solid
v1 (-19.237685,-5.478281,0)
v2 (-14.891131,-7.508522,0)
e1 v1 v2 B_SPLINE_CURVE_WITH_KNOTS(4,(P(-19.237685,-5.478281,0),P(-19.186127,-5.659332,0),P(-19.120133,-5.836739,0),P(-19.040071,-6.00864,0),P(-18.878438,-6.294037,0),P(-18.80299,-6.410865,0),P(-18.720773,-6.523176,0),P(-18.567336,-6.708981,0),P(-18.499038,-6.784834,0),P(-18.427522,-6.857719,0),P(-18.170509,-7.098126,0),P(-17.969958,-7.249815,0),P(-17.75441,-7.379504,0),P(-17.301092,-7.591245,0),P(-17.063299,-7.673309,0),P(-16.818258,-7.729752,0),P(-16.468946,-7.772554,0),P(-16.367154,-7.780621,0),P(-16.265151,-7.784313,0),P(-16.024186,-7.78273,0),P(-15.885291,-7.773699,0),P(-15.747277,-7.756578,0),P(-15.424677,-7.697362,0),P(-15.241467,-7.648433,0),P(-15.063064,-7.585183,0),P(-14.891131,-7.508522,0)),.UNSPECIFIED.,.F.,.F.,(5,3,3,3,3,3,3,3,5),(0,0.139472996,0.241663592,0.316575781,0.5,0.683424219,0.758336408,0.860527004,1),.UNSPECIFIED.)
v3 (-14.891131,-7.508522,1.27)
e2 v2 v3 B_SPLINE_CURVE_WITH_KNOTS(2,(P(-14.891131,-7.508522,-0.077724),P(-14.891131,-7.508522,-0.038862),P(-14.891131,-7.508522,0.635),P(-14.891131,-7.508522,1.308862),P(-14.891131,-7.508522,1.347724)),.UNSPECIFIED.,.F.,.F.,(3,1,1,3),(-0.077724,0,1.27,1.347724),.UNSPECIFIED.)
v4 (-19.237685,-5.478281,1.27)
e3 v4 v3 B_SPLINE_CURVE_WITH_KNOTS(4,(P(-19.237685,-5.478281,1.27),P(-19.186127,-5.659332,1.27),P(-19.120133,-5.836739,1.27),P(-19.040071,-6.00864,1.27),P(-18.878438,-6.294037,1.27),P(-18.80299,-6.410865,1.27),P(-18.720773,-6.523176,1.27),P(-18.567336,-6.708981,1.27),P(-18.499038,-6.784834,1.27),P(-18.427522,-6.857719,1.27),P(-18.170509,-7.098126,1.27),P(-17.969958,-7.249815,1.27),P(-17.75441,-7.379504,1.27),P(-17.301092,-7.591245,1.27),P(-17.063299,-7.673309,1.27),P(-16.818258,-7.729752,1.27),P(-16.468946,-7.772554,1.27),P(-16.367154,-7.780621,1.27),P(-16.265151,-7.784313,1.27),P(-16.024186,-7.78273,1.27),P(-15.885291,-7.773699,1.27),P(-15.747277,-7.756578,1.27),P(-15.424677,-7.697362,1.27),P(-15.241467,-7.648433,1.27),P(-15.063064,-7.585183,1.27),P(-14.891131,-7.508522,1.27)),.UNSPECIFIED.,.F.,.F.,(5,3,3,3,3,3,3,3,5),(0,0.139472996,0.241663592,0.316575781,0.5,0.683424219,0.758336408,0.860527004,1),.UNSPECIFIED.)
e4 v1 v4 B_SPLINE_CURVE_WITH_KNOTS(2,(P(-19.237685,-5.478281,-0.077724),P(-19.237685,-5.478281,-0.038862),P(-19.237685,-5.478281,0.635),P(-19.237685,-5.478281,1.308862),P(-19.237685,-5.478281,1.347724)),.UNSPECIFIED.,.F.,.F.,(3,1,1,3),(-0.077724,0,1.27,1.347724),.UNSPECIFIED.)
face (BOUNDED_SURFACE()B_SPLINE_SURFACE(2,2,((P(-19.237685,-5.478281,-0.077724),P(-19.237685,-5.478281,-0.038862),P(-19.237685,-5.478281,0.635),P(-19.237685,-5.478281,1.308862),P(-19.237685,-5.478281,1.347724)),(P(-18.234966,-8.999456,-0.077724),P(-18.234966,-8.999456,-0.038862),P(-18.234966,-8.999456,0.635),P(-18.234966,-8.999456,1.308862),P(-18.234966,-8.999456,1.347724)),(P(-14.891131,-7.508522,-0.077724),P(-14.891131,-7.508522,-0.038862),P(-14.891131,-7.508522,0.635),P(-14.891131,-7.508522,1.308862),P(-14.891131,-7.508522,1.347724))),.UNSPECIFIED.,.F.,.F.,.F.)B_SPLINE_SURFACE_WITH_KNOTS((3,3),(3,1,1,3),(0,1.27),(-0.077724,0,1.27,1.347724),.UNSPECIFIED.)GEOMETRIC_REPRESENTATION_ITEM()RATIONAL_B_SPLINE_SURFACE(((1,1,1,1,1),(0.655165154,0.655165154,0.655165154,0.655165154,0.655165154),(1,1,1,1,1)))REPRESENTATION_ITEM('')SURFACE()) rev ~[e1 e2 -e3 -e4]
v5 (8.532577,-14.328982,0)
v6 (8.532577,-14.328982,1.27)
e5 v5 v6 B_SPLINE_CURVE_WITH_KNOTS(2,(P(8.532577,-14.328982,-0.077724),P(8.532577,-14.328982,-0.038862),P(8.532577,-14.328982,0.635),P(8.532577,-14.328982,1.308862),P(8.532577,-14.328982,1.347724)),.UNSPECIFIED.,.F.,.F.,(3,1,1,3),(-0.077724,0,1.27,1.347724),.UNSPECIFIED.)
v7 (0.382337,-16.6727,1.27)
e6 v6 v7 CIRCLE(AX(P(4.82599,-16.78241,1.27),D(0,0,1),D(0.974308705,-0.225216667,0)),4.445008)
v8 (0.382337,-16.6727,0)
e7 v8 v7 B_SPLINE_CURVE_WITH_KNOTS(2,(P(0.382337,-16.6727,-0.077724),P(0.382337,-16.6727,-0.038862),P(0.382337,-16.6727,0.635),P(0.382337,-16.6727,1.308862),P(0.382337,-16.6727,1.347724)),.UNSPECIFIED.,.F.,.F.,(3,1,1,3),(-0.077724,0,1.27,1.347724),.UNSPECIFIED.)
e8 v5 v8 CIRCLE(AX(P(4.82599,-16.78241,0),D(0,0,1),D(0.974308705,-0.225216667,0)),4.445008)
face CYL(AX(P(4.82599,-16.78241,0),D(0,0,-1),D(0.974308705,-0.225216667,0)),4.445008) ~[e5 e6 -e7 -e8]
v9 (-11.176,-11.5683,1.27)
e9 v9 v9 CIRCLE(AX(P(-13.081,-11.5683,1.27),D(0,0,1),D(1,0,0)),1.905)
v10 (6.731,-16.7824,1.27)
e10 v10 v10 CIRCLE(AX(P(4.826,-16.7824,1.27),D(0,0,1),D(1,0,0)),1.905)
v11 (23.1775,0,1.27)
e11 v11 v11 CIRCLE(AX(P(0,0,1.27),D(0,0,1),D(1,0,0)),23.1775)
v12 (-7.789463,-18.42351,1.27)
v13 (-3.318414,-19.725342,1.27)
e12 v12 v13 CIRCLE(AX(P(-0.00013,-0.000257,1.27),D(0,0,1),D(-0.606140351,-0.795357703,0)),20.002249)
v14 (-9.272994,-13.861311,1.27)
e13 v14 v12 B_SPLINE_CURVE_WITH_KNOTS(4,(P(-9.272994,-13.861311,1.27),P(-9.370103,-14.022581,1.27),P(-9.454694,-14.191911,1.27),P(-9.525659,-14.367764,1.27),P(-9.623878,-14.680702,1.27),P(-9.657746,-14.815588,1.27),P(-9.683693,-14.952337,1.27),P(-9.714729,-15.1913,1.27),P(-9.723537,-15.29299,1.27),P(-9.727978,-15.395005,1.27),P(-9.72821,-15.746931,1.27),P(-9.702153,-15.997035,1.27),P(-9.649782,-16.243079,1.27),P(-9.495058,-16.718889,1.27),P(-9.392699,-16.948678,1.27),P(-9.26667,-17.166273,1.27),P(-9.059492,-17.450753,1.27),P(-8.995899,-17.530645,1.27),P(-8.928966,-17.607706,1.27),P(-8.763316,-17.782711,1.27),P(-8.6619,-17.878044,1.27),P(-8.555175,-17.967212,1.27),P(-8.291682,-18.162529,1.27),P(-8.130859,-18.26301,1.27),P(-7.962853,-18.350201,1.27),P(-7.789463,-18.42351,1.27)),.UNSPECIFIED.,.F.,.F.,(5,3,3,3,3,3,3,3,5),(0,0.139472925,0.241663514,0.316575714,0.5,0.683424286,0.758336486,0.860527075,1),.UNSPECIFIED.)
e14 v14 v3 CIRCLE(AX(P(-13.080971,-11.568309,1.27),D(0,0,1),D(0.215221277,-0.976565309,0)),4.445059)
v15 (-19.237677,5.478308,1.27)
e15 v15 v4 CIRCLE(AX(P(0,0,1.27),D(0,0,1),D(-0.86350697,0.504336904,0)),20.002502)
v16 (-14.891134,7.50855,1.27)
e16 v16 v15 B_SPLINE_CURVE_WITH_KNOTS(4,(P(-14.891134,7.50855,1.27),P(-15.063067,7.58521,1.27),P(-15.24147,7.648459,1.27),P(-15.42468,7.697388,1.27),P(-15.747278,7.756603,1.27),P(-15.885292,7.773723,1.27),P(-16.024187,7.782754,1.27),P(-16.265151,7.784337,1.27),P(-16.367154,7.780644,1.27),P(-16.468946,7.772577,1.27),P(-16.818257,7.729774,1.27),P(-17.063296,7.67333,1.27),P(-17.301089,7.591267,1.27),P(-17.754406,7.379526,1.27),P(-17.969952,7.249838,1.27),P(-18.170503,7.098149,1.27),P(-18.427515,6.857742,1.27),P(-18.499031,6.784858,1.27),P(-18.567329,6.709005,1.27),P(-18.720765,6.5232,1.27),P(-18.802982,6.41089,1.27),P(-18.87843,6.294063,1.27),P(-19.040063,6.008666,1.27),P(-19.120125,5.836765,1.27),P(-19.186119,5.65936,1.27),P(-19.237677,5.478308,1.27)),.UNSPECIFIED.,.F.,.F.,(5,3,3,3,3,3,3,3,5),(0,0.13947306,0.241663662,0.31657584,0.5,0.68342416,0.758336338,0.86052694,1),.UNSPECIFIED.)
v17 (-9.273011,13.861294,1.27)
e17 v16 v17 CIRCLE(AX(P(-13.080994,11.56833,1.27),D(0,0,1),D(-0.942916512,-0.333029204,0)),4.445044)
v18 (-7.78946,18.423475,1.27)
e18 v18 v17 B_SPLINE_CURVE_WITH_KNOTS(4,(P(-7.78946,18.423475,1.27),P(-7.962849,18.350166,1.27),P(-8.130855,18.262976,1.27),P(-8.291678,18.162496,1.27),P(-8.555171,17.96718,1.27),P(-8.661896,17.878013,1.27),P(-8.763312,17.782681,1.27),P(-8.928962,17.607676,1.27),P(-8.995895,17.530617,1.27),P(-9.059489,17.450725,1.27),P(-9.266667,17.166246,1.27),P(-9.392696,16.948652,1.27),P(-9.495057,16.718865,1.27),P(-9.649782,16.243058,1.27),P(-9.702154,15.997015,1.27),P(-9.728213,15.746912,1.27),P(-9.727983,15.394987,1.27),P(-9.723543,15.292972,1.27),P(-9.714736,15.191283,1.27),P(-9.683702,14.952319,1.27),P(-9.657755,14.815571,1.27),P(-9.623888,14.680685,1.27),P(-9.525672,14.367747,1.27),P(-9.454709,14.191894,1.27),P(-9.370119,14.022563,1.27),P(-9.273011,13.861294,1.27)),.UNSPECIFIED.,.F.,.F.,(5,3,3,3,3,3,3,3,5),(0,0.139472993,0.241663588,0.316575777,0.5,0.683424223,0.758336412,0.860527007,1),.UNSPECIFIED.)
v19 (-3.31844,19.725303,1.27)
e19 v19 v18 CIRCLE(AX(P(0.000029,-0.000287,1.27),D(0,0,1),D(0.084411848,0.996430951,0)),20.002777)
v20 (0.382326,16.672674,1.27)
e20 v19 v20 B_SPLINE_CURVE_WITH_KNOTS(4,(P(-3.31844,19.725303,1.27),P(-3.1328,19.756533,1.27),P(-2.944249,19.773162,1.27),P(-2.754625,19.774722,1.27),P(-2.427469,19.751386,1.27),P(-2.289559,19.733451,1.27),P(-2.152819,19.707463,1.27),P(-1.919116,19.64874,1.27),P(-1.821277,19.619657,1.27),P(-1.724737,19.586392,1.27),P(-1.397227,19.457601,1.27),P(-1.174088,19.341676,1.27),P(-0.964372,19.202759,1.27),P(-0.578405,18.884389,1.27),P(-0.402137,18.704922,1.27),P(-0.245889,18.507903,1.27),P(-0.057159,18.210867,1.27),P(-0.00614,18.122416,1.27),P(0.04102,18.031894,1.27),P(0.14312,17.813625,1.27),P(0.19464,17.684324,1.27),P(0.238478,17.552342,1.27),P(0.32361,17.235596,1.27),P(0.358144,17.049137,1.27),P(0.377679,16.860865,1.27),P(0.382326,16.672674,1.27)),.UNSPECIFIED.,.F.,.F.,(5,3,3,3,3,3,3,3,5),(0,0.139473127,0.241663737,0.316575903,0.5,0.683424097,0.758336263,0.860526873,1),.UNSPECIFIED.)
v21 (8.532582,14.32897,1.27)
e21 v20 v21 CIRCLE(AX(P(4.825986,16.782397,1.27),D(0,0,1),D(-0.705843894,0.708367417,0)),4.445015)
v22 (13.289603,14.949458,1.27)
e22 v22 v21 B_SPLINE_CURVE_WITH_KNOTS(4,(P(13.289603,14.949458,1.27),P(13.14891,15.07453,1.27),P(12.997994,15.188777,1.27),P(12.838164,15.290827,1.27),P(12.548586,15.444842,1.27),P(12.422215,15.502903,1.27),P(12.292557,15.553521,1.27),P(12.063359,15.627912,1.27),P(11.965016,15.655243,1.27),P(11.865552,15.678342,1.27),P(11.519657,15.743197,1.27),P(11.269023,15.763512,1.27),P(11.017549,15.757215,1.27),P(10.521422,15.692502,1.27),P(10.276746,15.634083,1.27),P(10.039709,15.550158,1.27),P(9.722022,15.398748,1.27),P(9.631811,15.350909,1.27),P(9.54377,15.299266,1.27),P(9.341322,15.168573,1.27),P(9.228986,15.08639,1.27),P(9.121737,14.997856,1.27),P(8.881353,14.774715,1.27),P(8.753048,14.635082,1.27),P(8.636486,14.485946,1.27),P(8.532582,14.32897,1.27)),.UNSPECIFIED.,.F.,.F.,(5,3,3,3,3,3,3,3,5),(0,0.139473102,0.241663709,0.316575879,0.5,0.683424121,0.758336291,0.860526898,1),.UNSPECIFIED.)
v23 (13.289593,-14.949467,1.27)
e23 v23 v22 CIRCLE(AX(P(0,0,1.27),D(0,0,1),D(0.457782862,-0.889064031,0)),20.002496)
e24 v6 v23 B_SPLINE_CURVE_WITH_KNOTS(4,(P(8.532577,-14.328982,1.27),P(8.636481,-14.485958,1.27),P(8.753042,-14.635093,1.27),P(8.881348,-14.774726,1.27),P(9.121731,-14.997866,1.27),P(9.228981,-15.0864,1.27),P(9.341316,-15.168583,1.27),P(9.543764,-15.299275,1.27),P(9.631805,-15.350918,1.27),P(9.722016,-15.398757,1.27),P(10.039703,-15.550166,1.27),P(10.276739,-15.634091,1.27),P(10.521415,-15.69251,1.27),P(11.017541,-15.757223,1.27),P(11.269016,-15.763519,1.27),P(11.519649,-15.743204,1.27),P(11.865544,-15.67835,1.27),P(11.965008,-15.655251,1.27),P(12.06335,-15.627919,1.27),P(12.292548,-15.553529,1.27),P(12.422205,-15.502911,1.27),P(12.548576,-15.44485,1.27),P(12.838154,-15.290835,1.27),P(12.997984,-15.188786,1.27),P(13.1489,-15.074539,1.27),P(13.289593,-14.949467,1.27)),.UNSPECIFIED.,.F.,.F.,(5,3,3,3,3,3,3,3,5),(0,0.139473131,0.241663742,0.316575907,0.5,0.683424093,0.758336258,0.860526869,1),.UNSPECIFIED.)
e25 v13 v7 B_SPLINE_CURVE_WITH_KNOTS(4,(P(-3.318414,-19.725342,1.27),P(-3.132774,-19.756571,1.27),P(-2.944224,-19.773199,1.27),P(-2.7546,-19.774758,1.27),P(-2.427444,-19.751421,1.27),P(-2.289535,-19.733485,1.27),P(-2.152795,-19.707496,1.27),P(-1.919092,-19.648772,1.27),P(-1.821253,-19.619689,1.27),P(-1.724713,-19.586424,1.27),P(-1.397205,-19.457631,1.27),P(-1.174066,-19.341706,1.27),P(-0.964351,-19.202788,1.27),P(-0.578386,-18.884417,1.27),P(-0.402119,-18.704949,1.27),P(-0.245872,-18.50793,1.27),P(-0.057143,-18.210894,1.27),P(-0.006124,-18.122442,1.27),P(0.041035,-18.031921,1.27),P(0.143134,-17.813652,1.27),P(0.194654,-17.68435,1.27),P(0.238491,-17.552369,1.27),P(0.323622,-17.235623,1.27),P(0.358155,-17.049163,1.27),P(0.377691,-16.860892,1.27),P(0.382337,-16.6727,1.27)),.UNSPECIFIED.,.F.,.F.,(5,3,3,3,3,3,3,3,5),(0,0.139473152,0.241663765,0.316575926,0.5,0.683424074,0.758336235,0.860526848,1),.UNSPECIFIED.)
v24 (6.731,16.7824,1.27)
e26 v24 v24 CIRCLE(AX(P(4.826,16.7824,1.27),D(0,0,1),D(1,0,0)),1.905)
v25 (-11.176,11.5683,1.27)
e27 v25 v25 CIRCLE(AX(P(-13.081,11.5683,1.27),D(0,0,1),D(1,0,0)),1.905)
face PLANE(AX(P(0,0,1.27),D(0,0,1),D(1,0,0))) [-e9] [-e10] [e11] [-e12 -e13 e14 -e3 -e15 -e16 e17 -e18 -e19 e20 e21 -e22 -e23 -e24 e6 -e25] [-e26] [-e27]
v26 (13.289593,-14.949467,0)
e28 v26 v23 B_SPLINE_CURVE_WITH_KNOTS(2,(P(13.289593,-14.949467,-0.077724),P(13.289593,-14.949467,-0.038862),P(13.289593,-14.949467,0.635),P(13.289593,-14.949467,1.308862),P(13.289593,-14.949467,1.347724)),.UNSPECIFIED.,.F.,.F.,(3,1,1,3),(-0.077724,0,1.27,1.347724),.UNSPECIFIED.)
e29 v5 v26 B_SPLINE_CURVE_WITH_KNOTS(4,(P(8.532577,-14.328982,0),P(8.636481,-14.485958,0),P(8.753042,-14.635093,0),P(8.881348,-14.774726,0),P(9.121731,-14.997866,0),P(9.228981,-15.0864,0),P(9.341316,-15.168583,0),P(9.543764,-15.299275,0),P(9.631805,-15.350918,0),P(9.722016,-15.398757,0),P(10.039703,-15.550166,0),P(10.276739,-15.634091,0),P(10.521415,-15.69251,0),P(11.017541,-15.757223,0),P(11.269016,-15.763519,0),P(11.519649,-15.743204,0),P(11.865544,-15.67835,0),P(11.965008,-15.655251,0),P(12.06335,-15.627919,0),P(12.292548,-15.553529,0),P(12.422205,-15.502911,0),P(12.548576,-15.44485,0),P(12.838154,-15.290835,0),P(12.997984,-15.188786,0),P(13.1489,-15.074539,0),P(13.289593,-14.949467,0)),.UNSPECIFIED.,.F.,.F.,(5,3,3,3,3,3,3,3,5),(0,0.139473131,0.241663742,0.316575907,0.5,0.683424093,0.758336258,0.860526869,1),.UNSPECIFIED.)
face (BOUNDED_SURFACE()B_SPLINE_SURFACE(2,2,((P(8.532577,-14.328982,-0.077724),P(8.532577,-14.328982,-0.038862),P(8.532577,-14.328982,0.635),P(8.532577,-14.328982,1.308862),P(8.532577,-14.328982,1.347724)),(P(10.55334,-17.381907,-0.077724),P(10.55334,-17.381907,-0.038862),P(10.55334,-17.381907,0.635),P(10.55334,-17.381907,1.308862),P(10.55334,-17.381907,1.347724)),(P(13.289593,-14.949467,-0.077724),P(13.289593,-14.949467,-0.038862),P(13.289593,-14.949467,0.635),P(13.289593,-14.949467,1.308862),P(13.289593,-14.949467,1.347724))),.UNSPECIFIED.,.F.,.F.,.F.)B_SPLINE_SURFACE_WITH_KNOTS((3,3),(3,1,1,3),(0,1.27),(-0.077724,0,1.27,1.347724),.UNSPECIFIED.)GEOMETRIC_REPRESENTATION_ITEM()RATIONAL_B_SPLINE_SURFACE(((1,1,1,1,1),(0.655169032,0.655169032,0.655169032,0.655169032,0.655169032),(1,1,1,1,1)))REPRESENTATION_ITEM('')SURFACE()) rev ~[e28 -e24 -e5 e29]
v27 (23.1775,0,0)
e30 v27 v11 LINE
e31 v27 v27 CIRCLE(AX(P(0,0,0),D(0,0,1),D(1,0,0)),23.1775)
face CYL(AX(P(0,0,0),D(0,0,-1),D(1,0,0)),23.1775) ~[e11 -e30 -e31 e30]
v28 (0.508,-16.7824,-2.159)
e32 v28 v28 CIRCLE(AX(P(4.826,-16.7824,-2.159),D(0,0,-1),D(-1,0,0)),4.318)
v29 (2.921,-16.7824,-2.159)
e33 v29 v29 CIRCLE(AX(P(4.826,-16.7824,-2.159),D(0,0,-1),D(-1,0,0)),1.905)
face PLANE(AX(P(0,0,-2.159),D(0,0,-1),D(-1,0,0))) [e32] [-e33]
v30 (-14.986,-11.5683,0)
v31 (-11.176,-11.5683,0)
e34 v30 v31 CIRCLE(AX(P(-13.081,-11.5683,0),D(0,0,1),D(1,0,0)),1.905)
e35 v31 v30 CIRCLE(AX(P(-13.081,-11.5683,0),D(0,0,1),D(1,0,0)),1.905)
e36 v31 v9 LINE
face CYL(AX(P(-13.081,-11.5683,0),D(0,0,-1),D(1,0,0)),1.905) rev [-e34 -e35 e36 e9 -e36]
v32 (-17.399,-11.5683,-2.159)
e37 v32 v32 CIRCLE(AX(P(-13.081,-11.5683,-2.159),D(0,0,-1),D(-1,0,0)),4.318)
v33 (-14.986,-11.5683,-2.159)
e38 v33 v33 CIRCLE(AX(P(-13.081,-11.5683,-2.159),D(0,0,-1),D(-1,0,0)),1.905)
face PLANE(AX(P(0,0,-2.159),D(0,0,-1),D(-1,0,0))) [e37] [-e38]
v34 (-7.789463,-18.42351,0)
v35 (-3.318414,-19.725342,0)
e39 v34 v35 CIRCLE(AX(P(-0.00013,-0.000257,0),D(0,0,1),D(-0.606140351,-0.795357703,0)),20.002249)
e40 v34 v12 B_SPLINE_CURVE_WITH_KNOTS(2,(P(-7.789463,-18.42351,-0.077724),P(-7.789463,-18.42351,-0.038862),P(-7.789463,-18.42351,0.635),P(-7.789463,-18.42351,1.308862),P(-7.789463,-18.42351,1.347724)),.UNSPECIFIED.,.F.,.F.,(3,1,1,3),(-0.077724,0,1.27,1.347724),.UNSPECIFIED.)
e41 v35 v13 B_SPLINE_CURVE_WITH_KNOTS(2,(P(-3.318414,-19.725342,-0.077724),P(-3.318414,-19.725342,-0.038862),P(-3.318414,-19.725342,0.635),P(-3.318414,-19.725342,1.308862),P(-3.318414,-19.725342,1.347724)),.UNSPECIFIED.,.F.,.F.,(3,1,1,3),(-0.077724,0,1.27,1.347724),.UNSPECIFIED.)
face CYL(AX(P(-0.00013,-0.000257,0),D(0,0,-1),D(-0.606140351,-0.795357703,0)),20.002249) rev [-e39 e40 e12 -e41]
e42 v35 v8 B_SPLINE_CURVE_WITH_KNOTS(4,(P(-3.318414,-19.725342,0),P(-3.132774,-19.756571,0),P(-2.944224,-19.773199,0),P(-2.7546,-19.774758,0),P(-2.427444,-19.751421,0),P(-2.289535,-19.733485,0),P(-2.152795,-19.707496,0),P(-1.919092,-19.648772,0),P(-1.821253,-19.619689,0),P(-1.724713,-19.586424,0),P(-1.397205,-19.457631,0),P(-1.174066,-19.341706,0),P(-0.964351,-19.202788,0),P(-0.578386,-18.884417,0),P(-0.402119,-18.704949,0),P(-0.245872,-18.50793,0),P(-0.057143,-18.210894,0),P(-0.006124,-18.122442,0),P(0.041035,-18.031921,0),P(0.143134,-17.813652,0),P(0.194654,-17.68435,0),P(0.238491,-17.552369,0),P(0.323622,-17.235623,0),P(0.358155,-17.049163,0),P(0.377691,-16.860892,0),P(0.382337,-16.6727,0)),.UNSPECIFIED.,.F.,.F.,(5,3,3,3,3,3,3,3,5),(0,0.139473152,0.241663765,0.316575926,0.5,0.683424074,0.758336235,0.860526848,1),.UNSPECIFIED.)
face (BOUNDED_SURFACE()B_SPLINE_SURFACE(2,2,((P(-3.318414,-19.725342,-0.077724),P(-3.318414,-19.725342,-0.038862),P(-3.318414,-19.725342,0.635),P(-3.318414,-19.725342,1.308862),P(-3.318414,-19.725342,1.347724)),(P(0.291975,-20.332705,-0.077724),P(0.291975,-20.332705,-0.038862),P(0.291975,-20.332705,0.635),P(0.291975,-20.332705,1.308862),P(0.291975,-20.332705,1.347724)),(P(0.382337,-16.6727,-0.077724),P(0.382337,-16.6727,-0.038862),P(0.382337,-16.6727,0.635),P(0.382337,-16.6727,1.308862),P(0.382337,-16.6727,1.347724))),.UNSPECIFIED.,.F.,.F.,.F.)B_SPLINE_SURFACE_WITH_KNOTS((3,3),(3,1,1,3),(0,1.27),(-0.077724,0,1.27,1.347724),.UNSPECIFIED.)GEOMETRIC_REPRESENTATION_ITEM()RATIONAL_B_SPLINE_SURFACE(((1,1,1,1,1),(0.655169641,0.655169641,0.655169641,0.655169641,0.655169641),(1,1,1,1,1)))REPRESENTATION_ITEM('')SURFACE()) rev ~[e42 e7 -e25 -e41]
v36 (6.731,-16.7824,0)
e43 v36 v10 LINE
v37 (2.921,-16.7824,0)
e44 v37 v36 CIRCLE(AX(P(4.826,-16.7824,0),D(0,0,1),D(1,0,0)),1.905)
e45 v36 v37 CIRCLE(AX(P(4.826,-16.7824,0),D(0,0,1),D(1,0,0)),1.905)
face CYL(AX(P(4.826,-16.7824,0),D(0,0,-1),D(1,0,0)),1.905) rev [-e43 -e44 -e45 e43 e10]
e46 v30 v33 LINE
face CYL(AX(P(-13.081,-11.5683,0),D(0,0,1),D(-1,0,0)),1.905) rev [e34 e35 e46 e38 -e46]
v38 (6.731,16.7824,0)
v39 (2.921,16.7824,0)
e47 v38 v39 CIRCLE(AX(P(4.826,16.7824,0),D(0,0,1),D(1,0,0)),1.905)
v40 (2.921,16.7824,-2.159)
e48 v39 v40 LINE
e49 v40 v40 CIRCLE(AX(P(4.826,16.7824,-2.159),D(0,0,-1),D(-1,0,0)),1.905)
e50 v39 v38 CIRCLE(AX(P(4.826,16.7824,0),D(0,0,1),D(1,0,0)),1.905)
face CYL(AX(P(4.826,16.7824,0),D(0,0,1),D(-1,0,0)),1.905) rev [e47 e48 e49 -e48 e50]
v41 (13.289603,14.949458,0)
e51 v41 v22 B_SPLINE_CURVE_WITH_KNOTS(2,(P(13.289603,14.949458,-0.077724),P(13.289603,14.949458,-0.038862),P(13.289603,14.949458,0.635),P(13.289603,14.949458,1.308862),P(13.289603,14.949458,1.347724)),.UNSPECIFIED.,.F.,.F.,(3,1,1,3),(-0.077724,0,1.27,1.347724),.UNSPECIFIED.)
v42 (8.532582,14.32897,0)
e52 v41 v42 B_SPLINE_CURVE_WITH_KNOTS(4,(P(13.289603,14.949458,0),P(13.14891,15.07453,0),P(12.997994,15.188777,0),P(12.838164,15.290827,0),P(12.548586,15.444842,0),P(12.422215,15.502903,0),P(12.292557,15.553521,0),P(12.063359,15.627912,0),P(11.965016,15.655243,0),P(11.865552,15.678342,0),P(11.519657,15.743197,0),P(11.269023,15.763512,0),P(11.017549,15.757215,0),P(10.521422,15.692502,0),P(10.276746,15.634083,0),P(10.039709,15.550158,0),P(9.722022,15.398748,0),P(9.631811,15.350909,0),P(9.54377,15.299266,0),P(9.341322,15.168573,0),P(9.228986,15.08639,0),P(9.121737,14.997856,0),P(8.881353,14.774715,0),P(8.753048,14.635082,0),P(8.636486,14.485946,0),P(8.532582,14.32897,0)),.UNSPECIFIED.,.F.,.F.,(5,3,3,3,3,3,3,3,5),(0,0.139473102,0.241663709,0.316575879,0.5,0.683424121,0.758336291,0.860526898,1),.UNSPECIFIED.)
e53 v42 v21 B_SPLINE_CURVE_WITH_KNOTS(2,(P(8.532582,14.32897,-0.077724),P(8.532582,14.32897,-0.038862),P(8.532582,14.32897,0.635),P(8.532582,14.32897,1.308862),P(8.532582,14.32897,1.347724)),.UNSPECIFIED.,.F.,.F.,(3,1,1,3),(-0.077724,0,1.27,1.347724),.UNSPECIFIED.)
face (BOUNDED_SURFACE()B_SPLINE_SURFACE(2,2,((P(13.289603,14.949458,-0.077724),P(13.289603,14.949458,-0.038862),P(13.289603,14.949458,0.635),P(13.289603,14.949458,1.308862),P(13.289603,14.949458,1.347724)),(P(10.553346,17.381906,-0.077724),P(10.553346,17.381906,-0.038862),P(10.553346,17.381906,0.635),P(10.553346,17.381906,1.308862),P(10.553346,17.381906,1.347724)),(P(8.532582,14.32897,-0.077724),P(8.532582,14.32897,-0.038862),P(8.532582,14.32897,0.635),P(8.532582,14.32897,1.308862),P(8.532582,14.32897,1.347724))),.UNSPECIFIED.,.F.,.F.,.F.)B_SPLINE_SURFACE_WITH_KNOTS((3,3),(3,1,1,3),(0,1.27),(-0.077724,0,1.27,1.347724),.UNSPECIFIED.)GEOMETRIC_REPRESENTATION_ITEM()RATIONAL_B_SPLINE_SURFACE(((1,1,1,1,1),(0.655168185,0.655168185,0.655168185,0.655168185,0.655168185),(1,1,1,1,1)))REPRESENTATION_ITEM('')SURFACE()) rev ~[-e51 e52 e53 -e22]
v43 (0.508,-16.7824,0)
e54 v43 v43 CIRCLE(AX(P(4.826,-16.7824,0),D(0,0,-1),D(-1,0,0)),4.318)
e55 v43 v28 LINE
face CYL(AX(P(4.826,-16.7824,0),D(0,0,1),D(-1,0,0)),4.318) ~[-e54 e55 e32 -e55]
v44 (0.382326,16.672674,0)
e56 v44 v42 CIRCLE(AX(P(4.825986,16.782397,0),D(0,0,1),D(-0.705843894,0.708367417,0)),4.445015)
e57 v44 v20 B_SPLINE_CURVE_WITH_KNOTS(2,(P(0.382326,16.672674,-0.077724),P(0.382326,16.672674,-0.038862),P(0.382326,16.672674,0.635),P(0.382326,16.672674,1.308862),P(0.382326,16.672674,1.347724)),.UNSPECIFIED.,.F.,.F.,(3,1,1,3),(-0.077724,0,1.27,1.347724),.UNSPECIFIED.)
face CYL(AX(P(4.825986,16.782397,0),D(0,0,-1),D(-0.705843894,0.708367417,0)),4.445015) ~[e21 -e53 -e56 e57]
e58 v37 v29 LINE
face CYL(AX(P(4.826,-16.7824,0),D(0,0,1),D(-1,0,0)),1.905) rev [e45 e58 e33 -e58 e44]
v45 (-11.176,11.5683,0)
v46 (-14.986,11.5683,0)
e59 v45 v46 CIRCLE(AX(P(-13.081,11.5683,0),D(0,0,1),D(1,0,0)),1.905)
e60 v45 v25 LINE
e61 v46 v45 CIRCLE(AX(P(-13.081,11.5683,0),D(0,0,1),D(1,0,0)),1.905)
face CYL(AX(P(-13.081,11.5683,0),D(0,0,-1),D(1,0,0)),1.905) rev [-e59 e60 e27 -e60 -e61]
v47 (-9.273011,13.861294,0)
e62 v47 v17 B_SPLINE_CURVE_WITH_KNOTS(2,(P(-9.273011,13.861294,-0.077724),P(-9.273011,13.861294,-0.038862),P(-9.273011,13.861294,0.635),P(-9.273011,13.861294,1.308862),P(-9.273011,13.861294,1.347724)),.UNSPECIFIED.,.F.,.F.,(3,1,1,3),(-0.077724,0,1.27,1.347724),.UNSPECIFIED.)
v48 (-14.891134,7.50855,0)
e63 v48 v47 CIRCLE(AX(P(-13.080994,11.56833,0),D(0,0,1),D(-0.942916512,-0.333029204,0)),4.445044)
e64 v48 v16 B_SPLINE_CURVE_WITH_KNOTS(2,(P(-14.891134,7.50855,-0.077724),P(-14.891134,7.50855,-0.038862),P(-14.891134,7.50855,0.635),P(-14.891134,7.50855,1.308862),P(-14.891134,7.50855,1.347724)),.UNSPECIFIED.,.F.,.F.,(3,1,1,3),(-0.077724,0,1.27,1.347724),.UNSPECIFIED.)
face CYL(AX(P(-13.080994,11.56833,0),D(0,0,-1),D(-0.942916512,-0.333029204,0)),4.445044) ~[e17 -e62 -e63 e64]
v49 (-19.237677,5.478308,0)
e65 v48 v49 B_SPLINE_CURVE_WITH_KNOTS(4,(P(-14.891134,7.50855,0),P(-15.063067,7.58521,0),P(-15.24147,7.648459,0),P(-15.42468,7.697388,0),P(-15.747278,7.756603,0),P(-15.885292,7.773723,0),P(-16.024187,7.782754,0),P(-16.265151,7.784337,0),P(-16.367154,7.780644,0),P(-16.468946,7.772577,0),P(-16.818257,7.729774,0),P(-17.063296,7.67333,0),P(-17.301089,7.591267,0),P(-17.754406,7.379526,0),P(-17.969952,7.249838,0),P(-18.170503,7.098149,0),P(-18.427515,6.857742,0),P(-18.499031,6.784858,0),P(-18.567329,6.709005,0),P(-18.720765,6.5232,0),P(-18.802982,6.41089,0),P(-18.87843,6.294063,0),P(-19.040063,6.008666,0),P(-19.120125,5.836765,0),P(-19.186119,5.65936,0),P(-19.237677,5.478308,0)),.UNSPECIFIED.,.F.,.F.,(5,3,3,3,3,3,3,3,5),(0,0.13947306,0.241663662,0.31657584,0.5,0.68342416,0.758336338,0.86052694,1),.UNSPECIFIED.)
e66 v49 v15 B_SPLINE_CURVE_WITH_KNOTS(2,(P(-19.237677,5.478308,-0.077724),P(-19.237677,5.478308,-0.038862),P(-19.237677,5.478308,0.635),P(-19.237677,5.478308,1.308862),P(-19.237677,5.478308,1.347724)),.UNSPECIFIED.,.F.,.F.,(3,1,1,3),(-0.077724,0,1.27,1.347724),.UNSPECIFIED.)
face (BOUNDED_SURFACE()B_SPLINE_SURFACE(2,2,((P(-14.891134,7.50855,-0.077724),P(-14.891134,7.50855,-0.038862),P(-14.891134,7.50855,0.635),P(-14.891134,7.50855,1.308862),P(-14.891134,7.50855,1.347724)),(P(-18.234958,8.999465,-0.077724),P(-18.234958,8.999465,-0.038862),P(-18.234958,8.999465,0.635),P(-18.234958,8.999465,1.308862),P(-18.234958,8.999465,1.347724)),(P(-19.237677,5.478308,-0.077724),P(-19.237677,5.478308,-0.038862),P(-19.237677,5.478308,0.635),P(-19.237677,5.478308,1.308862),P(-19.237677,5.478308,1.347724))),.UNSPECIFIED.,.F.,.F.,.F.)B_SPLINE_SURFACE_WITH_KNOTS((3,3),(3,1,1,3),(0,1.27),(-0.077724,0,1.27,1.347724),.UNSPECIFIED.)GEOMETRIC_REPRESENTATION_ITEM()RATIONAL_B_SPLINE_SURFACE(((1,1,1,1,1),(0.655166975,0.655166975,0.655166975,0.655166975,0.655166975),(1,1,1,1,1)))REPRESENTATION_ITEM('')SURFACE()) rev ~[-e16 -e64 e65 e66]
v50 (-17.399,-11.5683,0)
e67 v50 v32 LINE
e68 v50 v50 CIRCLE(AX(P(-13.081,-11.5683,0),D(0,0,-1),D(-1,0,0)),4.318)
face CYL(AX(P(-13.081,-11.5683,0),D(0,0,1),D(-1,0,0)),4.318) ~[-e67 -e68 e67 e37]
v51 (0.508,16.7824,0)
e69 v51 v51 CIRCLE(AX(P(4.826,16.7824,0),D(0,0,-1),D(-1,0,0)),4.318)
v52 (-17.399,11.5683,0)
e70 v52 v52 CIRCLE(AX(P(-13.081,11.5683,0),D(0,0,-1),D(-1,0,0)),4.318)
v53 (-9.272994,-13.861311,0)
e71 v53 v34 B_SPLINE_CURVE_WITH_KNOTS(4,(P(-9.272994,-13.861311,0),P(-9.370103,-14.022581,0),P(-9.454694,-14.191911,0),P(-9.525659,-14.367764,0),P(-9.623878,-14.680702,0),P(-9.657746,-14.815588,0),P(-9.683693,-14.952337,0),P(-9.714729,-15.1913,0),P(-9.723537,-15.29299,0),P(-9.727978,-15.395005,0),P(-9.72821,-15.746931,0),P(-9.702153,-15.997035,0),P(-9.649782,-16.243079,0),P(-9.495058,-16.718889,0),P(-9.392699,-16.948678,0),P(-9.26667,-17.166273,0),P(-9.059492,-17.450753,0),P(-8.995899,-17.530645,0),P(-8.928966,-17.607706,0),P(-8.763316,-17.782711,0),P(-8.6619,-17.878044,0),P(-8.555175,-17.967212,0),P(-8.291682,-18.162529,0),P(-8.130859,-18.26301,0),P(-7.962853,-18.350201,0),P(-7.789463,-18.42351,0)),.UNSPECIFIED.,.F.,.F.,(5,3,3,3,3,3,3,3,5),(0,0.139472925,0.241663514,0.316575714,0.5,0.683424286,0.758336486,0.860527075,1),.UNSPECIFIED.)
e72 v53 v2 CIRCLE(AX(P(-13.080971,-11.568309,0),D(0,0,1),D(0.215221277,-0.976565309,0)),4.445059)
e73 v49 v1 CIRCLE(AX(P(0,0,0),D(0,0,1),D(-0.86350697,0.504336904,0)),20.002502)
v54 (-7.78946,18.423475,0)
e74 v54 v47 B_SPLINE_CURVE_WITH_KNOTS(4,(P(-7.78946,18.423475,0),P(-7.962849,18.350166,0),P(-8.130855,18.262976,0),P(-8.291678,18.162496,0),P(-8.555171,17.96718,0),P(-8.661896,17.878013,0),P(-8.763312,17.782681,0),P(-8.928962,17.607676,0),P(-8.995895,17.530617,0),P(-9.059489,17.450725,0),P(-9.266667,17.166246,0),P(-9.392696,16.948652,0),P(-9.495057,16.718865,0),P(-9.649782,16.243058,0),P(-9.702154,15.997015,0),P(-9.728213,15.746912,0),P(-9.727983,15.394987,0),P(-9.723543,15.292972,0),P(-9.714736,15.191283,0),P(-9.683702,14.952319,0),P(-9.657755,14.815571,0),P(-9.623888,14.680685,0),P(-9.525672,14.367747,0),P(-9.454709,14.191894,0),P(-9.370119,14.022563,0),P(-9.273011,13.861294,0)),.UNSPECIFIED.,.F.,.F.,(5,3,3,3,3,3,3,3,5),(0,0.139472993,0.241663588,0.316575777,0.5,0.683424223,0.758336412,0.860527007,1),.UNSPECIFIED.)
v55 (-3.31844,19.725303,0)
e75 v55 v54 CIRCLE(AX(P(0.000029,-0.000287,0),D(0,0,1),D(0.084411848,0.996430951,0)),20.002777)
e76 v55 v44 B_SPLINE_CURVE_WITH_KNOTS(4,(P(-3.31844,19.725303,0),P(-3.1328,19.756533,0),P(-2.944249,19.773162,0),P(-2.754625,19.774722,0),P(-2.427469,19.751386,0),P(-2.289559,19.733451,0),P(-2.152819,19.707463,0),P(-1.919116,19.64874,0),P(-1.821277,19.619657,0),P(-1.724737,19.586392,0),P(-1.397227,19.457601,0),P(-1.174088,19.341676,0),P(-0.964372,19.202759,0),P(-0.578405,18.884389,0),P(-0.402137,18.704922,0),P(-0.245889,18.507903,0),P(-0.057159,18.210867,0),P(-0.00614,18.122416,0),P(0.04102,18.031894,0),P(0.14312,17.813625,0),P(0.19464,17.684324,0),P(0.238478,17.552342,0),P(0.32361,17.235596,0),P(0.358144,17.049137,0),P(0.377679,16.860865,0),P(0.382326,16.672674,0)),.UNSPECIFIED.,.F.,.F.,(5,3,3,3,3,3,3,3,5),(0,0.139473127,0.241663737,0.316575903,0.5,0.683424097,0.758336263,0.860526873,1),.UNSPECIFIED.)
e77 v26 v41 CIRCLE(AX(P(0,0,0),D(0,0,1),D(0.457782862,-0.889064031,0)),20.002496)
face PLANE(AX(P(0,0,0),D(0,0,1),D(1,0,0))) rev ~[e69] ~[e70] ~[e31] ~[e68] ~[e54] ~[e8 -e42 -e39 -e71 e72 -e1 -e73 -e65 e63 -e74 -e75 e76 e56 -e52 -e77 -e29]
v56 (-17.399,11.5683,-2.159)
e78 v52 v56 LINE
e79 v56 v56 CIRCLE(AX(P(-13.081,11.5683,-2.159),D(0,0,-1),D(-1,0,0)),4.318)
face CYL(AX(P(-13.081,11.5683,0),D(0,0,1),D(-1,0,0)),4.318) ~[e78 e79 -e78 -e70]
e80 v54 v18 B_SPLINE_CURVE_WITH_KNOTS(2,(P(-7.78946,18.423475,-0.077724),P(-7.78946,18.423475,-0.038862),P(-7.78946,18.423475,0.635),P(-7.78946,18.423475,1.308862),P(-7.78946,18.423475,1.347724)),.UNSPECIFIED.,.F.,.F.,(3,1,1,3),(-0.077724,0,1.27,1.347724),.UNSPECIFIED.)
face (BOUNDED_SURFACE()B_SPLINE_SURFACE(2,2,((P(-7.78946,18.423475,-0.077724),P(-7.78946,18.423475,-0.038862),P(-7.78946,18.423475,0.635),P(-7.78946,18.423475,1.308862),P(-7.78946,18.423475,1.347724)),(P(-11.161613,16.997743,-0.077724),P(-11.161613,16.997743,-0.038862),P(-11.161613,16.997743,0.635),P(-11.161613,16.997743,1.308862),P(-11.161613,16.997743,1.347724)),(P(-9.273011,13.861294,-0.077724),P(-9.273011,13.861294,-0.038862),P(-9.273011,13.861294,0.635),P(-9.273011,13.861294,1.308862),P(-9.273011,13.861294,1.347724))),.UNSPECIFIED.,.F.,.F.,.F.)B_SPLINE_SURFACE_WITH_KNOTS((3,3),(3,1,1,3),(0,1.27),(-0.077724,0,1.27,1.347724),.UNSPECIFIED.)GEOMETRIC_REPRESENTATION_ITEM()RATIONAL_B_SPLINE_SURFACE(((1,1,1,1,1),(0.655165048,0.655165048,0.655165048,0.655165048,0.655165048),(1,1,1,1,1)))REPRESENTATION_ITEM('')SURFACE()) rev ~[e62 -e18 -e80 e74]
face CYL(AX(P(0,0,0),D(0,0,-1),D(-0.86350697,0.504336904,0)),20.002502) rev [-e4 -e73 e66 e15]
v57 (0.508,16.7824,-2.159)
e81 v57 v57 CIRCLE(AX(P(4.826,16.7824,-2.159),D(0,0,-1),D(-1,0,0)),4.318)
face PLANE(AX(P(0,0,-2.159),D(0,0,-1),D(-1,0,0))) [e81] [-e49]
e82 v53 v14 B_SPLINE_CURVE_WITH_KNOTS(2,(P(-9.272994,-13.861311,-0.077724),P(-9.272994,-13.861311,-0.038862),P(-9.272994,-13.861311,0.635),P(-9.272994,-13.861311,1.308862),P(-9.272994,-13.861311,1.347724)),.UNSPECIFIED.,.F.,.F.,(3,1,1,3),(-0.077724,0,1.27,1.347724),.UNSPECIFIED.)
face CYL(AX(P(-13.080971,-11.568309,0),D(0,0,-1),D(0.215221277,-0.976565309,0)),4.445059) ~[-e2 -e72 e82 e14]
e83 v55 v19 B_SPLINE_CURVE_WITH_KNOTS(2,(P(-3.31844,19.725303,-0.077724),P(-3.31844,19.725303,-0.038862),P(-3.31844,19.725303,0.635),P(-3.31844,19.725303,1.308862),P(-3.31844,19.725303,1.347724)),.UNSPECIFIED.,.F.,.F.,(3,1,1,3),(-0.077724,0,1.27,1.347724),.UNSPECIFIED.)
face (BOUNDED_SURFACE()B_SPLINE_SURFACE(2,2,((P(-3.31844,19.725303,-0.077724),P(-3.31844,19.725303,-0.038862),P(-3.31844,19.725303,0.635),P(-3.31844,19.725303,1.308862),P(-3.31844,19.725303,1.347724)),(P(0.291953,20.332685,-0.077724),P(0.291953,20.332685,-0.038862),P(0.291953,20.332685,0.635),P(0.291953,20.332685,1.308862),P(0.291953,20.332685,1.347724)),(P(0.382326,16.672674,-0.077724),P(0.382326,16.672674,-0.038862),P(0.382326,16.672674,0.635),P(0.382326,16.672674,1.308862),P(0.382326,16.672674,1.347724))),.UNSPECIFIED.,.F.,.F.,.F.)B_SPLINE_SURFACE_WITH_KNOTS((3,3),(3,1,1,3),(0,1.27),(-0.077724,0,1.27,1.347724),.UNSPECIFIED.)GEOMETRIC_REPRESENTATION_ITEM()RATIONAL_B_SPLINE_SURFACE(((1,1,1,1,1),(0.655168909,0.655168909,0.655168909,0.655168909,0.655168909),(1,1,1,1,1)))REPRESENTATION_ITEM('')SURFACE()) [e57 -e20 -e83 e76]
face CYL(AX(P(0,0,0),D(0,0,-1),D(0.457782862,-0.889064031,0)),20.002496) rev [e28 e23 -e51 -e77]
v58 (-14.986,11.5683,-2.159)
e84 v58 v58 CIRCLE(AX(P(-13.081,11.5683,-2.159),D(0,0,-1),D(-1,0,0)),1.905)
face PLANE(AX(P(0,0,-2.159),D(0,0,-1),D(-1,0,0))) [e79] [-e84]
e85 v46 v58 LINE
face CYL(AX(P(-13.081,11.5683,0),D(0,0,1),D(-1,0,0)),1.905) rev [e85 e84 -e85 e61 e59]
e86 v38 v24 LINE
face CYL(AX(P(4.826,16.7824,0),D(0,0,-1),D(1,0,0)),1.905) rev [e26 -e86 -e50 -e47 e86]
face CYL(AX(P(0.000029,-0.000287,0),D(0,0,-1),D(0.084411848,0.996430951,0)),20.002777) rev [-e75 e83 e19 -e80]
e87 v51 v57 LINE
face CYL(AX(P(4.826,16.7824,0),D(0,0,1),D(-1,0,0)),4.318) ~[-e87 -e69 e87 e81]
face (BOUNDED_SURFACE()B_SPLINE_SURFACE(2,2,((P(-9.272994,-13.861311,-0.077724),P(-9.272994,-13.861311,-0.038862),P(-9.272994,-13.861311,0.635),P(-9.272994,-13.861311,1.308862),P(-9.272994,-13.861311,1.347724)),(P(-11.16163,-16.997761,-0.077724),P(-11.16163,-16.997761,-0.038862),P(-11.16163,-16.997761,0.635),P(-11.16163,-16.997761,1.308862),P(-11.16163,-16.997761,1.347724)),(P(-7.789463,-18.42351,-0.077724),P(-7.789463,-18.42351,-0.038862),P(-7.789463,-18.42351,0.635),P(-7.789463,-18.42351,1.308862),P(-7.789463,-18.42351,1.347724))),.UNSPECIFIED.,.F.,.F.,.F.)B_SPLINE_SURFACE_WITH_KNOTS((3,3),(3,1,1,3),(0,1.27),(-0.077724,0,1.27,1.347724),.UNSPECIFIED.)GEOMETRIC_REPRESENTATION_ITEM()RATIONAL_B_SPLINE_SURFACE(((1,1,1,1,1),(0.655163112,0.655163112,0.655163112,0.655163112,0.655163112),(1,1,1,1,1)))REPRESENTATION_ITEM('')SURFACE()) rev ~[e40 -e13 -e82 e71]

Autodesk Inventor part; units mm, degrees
ref_plane "YZ Plane" through (0, 0, 0) normal (1, 0, 0) x (0, 1, 0)
ref_plane "XZ Plane" through (0, 0, 0) normal (0, 1, 0) x (-1, 0, 0)
ref_plane "XY Plane" through (0, 0, 0) normal (0, 0, 1) x (1, 0, 0)
ref_plane "Work Plane1" through (0, 0, 0) normal (0, 0, 1) x (1, 0, 0)
sketch "Sketch1" plane through (0, 0, 0) normal (0, 0, 1) x (1, 0, 0)
  line L0 (-8.3321, -22.7734) -> (-9.471, -25.3313) construction
  line L1 (-9.471, -25.3313) -> (-12.4875, -23.9883) construction
  line L2 (-12.4875, -23.9883) -> (-11.3486, -21.4303) construction
  line L3 (-11.3486, -21.4303) -> (-8.3321, -22.7734) construction
  line L4 (-16.8745, -17.4155) -> (-18.9553, -19.2891) construction
  line L5 (-18.9553, -19.2891) -> (-21.1648, -16.8352) construction
  line L6 (-21.1648, -16.8352) -> (-19.084, -14.9617) construction
  line L7 (-19.084, -14.9617) -> (-16.8745, -17.4155) construction
  line L8 (-22.4992, -9.0464) -> (-25.1622, -9.9116) construction
  line L9 (-25.1622, -9.9116) -> (-26.1825, -6.7713) construction
  line L10 (-26.1825, -6.7713) -> (-23.5196, -5.906) construction
  line L11 (-23.5196, -5.906) -> (-22.4992, -9.0464) construction
  line L12 (-24.2335, 0.887) -> (-27.0182, 1.1796) construction
  line L13 (-27.0182, 1.1796) -> (-26.6731, 4.4635) construction
  line L14 (-26.6731, 4.4635) -> (-23.8884, 4.1709) construction
  line L15 (-23.8884, 4.1709) -> (-24.2335, 0.887) construction
  line L16 (-21.7777, 10.6669) -> (-24.2026, 12.0669) construction
  line L17 (-24.2026, 12.0669) -> (-22.5516, 14.9266) construction
  line L18 (-22.5516, 14.9266) -> (-20.1267, 13.5266) construction
  line L19 (-20.1267, 13.5266) -> (-21.7777, 10.6669) construction
  line L20 (-15.5563, 18.6025) -> (-17.2021, 20.8678) construction
  line L21 (-17.2021, 20.8678) -> (-14.5307, 22.8086) construction
  line L22 (-14.5307, 22.8086) -> (-12.8849, 20.5434) construction
  line L23 (-12.8849, 20.5434) -> (-15.5563, 18.6025) construction
  line L24 (-6.645, 23.3216) -> (-7.2272, 26.0604) construction
  line L25 (-7.2272, 26.0604) -> (-3.9973, 26.7469) construction
  line L26 (-3.9973, 26.7469) -> (-3.4152, 24.0081) construction
  line L27 (-3.4152, 24.0081) -> (-6.645, 23.3216) construction
  line L28 (3.4152, 24.0081) -> (3.9973, 26.7469) construction
  line L29 (3.9973, 26.7469) -> (7.2272, 26.0604) construction
  line L30 (7.2272, 26.0604) -> (6.645, 23.3216) construction
  line L31 (6.645, 23.3216) -> (3.4152, 24.0081) construction
  line L32 (12.8849, 20.5434) -> (14.5307, 22.8086) construction
  line L33 (14.5307, 22.8086) -> (17.2021, 20.8678) construction
  line L34 (17.2021, 20.8678) -> (15.5563, 18.6025) construction
  line L35 (15.5563, 18.6025) -> (12.8849, 20.5434) construction
  line L36 (20.1267, 13.5266) -> (22.5516, 14.9266) construction
  line L37 (22.5516, 14.9266) -> (24.2026, 12.0669) construction
  line L38 (24.2026, 12.0669) -> (21.7777, 10.6669) construction
  line L39 (21.7777, 10.6669) -> (20.1267, 13.5266) construction
  line L40 (23.8884, 4.1709) -> (26.6731, 4.4635) construction
  line L41 (26.6731, 4.4635) -> (27.0182, 1.1796) construction
  line L42 (27.0182, 1.1796) -> (24.2335, 0.887) construction
  line L43 (24.2335, 0.887) -> (23.8884, 4.1709) construction
  line L44 (23.5196, -5.906) -> (26.1825, -6.7713) construction
  line L45 (26.1825, -6.7713) -> (25.1622, -9.9116) construction
  line L46 (25.1622, -9.9116) -> (22.4992, -9.0464) construction
  line L47 (22.4992, -9.0464) -> (23.5196, -5.906) construction
  line L48 (19.084, -14.9617) -> (21.1648, -16.8352) construction
  line L49 (21.1648, -16.8352) -> (18.9553, -19.2891) construction
  line L50 (18.9553, -19.2891) -> (16.8745, -17.4155) construction
  line L51 (16.8745, -17.4155) -> (19.084, -14.9617) construction
  line L52 (11.3486, -21.4303) -> (12.4875, -23.9883) construction
  line L53 (12.4875, -23.9883) -> (9.471, -25.3313) construction
  line L54 (9.471, -25.3313) -> (8.3321, -22.7734) construction
  line L55 (8.3321, -22.7734) -> (11.3486, -21.4303) construction
  line L56 (1.651, -24.1935) -> (1.651, -26.9935) construction
  line L57 (1.651, -26.9935) -> (-1.651, -26.9935) construction
  line L58 (-1.651, -26.9935) -> (-1.651, -24.1935) construction
  line L59 (-1.651, -24.1935) -> (1.651, -24.1935) construction
  circle A0 centre (0, 0) radius 21.9075 construction
  circle A1 centre (0, 0) radius 29.972 construction
  line L60 (-34.3408, 32.385) -> (-34.3408, -32.385) construction
  line L61 (-34.3408, -32.385) -> (15.5702, -32.385) construction
  line L62 (15.5702, -32.385) -> (15.5702, 32.385) construction
  line L63 (15.5702, 32.385) -> (-34.3408, 32.385) construction
  circle A2 centre (-26.2128, 23.749) radius 1.524 construction
  circle A3 centre (6.9342, -23.749) radius 1.524 construction
  line L64 (-2.9845, -10.0203) -> (-2.9845, -9.271) construction
  line L65 (-2.9845, -9.271) -> (-9.271, -9.271) construction
  line L66 (-9.271, -9.271) -> (-9.271, 9.271) construction
  line L67 (-9.271, 9.271) -> (-2.9845, 9.271) construction
  line L68 (-2.9845, 9.271) -> (-2.9845, 10.0203) construction
  arc A4 (2.9845, 10.0203) -> (-2.9845, 10.0203) centre (0, 10.0203) ccw construction
  line L69 (2.9845, 10.0203) -> (2.9845, 9.271) construction
  line L70 (2.9845, 9.271) -> (9.271, 9.271) construction
  line L71 (9.271, 9.271) -> (9.271, -9.271) construction
  line L72 (9.271, -9.271) -> (2.9845, -9.271) construction
  line L73 (2.9845, -9.271) -> (2.9845, -10.0203) construction
  arc A5 (-2.9845, -10.0203) -> (2.9845, -10.0203) centre (0, -10.0203) ccw construction
  circle A6 centre (4.826, 16.7824) radius 1.905
  circle A7 centre (4.826, -16.7824) radius 1.905
  circle A8 centre (-13.081, 11.5683) radius 1.905
  circle A9 centre (-13.081, -11.5683) radius 1.905
  circle A10 centre (0, 0) radius 23.1775
  arc A11 (1.6885, 19.9311) -> (9.1568, 17.7835) centre (4.826, 16.7824) ccw
  arc A12 (9.1568, -17.7835) -> (1.6885, -19.9311) centre (4.826, -16.7824) ccw
  arc A13 (-12.1243, -15.9092) -> (-17.2723, -10.088) centre (-13.081, -11.5683) ccw
  arc A14 (-17.2723, 10.088) -> (-12.1243, 15.9092) centre (-13.081, 11.5683) ccw
  arc A15 (-12.1243, -15.9092) -> (1.6885, -19.9311) centre (0, 0) ccw
  arc A16 (-17.2723, 10.088) -> (-17.2723, -10.088) centre (0, 0) ccw
  arc A17 (9.1568, -17.7835) -> (9.1568, 17.7835) centre (0, 0) ccw
  arc A18 (1.6885, 19.9311) -> (-12.1243, 15.9092) centre (0, 0) ccw
  dimension "d0" = 2.54
  dimension "d1" = 2.54
  dimension "d2" = 2.54
  dimension "d3" = 2.54
  dimension "d4" = 3.81
  dimension "d5" = 2.54
  dimension "d6" = 3.81
  dimension "d7" = 1.27
  dimension "d9" = 2.54
  dimension "d10" = 3.175
  dimension "d11" = 3.175
  dimension "d12" = 3.175
  dimension "d13" = 3.175
extrude "Extrusion1" add sketch "Sketch1" along normal blind 1.27
fillet "Fillet1" radius 3.175 8 edges at (9.1568, 17.7835, 0.635) (1.6885, 19.9311, 0.635) (-12.1243, 15.9092, 0.635) (-17.2723, 10.088, 0.635) (9.1568, -17.7835, 0.635) (1.6885, -19.9311, 0.635) (-12.1243, -15.9092, 0.635) (-17.2723, -10.088, 0.635)
sketch "Sketch2" plane through (0, 0, 0) normal (0, 0, -1) x (-1, 0, 0)
  circle A0 centre (13.081, -11.5683) radius 1.905 projected
  circle A1 centre (13.081, 11.5683) radius 1.905 projected
  circle A2 centre (-4.826, -16.7824) radius 1.905 projected
  circle A3 centre (-4.826, 16.7824) radius 1.905 projected
  circle A4 centre (-4.826, -16.7824) radius 4.318
  circle A5 centre (-4.826, 16.7824) radius 1.905 projected
  circle A6 centre (-4.826, 16.7824) radius 4.318
  circle A7 centre (13.081, -11.5683) radius 1.905 projected
  circle A8 centre (13.081, -11.5683) radius 4.318
  circle A9 centre (13.081, 11.5683) radius 4.318
  circle A10 centre (0, 0) radius 21.9075 construction
  dimension "d17" = 0.127
extrude "Extrusion2" add sketch "Sketch2" along normal blind 2.159
equation "\"d1\" = d0"
equation "\"d2\" = d1"
equation "\"d3\" = d0"
properties part number "Ring Front"
